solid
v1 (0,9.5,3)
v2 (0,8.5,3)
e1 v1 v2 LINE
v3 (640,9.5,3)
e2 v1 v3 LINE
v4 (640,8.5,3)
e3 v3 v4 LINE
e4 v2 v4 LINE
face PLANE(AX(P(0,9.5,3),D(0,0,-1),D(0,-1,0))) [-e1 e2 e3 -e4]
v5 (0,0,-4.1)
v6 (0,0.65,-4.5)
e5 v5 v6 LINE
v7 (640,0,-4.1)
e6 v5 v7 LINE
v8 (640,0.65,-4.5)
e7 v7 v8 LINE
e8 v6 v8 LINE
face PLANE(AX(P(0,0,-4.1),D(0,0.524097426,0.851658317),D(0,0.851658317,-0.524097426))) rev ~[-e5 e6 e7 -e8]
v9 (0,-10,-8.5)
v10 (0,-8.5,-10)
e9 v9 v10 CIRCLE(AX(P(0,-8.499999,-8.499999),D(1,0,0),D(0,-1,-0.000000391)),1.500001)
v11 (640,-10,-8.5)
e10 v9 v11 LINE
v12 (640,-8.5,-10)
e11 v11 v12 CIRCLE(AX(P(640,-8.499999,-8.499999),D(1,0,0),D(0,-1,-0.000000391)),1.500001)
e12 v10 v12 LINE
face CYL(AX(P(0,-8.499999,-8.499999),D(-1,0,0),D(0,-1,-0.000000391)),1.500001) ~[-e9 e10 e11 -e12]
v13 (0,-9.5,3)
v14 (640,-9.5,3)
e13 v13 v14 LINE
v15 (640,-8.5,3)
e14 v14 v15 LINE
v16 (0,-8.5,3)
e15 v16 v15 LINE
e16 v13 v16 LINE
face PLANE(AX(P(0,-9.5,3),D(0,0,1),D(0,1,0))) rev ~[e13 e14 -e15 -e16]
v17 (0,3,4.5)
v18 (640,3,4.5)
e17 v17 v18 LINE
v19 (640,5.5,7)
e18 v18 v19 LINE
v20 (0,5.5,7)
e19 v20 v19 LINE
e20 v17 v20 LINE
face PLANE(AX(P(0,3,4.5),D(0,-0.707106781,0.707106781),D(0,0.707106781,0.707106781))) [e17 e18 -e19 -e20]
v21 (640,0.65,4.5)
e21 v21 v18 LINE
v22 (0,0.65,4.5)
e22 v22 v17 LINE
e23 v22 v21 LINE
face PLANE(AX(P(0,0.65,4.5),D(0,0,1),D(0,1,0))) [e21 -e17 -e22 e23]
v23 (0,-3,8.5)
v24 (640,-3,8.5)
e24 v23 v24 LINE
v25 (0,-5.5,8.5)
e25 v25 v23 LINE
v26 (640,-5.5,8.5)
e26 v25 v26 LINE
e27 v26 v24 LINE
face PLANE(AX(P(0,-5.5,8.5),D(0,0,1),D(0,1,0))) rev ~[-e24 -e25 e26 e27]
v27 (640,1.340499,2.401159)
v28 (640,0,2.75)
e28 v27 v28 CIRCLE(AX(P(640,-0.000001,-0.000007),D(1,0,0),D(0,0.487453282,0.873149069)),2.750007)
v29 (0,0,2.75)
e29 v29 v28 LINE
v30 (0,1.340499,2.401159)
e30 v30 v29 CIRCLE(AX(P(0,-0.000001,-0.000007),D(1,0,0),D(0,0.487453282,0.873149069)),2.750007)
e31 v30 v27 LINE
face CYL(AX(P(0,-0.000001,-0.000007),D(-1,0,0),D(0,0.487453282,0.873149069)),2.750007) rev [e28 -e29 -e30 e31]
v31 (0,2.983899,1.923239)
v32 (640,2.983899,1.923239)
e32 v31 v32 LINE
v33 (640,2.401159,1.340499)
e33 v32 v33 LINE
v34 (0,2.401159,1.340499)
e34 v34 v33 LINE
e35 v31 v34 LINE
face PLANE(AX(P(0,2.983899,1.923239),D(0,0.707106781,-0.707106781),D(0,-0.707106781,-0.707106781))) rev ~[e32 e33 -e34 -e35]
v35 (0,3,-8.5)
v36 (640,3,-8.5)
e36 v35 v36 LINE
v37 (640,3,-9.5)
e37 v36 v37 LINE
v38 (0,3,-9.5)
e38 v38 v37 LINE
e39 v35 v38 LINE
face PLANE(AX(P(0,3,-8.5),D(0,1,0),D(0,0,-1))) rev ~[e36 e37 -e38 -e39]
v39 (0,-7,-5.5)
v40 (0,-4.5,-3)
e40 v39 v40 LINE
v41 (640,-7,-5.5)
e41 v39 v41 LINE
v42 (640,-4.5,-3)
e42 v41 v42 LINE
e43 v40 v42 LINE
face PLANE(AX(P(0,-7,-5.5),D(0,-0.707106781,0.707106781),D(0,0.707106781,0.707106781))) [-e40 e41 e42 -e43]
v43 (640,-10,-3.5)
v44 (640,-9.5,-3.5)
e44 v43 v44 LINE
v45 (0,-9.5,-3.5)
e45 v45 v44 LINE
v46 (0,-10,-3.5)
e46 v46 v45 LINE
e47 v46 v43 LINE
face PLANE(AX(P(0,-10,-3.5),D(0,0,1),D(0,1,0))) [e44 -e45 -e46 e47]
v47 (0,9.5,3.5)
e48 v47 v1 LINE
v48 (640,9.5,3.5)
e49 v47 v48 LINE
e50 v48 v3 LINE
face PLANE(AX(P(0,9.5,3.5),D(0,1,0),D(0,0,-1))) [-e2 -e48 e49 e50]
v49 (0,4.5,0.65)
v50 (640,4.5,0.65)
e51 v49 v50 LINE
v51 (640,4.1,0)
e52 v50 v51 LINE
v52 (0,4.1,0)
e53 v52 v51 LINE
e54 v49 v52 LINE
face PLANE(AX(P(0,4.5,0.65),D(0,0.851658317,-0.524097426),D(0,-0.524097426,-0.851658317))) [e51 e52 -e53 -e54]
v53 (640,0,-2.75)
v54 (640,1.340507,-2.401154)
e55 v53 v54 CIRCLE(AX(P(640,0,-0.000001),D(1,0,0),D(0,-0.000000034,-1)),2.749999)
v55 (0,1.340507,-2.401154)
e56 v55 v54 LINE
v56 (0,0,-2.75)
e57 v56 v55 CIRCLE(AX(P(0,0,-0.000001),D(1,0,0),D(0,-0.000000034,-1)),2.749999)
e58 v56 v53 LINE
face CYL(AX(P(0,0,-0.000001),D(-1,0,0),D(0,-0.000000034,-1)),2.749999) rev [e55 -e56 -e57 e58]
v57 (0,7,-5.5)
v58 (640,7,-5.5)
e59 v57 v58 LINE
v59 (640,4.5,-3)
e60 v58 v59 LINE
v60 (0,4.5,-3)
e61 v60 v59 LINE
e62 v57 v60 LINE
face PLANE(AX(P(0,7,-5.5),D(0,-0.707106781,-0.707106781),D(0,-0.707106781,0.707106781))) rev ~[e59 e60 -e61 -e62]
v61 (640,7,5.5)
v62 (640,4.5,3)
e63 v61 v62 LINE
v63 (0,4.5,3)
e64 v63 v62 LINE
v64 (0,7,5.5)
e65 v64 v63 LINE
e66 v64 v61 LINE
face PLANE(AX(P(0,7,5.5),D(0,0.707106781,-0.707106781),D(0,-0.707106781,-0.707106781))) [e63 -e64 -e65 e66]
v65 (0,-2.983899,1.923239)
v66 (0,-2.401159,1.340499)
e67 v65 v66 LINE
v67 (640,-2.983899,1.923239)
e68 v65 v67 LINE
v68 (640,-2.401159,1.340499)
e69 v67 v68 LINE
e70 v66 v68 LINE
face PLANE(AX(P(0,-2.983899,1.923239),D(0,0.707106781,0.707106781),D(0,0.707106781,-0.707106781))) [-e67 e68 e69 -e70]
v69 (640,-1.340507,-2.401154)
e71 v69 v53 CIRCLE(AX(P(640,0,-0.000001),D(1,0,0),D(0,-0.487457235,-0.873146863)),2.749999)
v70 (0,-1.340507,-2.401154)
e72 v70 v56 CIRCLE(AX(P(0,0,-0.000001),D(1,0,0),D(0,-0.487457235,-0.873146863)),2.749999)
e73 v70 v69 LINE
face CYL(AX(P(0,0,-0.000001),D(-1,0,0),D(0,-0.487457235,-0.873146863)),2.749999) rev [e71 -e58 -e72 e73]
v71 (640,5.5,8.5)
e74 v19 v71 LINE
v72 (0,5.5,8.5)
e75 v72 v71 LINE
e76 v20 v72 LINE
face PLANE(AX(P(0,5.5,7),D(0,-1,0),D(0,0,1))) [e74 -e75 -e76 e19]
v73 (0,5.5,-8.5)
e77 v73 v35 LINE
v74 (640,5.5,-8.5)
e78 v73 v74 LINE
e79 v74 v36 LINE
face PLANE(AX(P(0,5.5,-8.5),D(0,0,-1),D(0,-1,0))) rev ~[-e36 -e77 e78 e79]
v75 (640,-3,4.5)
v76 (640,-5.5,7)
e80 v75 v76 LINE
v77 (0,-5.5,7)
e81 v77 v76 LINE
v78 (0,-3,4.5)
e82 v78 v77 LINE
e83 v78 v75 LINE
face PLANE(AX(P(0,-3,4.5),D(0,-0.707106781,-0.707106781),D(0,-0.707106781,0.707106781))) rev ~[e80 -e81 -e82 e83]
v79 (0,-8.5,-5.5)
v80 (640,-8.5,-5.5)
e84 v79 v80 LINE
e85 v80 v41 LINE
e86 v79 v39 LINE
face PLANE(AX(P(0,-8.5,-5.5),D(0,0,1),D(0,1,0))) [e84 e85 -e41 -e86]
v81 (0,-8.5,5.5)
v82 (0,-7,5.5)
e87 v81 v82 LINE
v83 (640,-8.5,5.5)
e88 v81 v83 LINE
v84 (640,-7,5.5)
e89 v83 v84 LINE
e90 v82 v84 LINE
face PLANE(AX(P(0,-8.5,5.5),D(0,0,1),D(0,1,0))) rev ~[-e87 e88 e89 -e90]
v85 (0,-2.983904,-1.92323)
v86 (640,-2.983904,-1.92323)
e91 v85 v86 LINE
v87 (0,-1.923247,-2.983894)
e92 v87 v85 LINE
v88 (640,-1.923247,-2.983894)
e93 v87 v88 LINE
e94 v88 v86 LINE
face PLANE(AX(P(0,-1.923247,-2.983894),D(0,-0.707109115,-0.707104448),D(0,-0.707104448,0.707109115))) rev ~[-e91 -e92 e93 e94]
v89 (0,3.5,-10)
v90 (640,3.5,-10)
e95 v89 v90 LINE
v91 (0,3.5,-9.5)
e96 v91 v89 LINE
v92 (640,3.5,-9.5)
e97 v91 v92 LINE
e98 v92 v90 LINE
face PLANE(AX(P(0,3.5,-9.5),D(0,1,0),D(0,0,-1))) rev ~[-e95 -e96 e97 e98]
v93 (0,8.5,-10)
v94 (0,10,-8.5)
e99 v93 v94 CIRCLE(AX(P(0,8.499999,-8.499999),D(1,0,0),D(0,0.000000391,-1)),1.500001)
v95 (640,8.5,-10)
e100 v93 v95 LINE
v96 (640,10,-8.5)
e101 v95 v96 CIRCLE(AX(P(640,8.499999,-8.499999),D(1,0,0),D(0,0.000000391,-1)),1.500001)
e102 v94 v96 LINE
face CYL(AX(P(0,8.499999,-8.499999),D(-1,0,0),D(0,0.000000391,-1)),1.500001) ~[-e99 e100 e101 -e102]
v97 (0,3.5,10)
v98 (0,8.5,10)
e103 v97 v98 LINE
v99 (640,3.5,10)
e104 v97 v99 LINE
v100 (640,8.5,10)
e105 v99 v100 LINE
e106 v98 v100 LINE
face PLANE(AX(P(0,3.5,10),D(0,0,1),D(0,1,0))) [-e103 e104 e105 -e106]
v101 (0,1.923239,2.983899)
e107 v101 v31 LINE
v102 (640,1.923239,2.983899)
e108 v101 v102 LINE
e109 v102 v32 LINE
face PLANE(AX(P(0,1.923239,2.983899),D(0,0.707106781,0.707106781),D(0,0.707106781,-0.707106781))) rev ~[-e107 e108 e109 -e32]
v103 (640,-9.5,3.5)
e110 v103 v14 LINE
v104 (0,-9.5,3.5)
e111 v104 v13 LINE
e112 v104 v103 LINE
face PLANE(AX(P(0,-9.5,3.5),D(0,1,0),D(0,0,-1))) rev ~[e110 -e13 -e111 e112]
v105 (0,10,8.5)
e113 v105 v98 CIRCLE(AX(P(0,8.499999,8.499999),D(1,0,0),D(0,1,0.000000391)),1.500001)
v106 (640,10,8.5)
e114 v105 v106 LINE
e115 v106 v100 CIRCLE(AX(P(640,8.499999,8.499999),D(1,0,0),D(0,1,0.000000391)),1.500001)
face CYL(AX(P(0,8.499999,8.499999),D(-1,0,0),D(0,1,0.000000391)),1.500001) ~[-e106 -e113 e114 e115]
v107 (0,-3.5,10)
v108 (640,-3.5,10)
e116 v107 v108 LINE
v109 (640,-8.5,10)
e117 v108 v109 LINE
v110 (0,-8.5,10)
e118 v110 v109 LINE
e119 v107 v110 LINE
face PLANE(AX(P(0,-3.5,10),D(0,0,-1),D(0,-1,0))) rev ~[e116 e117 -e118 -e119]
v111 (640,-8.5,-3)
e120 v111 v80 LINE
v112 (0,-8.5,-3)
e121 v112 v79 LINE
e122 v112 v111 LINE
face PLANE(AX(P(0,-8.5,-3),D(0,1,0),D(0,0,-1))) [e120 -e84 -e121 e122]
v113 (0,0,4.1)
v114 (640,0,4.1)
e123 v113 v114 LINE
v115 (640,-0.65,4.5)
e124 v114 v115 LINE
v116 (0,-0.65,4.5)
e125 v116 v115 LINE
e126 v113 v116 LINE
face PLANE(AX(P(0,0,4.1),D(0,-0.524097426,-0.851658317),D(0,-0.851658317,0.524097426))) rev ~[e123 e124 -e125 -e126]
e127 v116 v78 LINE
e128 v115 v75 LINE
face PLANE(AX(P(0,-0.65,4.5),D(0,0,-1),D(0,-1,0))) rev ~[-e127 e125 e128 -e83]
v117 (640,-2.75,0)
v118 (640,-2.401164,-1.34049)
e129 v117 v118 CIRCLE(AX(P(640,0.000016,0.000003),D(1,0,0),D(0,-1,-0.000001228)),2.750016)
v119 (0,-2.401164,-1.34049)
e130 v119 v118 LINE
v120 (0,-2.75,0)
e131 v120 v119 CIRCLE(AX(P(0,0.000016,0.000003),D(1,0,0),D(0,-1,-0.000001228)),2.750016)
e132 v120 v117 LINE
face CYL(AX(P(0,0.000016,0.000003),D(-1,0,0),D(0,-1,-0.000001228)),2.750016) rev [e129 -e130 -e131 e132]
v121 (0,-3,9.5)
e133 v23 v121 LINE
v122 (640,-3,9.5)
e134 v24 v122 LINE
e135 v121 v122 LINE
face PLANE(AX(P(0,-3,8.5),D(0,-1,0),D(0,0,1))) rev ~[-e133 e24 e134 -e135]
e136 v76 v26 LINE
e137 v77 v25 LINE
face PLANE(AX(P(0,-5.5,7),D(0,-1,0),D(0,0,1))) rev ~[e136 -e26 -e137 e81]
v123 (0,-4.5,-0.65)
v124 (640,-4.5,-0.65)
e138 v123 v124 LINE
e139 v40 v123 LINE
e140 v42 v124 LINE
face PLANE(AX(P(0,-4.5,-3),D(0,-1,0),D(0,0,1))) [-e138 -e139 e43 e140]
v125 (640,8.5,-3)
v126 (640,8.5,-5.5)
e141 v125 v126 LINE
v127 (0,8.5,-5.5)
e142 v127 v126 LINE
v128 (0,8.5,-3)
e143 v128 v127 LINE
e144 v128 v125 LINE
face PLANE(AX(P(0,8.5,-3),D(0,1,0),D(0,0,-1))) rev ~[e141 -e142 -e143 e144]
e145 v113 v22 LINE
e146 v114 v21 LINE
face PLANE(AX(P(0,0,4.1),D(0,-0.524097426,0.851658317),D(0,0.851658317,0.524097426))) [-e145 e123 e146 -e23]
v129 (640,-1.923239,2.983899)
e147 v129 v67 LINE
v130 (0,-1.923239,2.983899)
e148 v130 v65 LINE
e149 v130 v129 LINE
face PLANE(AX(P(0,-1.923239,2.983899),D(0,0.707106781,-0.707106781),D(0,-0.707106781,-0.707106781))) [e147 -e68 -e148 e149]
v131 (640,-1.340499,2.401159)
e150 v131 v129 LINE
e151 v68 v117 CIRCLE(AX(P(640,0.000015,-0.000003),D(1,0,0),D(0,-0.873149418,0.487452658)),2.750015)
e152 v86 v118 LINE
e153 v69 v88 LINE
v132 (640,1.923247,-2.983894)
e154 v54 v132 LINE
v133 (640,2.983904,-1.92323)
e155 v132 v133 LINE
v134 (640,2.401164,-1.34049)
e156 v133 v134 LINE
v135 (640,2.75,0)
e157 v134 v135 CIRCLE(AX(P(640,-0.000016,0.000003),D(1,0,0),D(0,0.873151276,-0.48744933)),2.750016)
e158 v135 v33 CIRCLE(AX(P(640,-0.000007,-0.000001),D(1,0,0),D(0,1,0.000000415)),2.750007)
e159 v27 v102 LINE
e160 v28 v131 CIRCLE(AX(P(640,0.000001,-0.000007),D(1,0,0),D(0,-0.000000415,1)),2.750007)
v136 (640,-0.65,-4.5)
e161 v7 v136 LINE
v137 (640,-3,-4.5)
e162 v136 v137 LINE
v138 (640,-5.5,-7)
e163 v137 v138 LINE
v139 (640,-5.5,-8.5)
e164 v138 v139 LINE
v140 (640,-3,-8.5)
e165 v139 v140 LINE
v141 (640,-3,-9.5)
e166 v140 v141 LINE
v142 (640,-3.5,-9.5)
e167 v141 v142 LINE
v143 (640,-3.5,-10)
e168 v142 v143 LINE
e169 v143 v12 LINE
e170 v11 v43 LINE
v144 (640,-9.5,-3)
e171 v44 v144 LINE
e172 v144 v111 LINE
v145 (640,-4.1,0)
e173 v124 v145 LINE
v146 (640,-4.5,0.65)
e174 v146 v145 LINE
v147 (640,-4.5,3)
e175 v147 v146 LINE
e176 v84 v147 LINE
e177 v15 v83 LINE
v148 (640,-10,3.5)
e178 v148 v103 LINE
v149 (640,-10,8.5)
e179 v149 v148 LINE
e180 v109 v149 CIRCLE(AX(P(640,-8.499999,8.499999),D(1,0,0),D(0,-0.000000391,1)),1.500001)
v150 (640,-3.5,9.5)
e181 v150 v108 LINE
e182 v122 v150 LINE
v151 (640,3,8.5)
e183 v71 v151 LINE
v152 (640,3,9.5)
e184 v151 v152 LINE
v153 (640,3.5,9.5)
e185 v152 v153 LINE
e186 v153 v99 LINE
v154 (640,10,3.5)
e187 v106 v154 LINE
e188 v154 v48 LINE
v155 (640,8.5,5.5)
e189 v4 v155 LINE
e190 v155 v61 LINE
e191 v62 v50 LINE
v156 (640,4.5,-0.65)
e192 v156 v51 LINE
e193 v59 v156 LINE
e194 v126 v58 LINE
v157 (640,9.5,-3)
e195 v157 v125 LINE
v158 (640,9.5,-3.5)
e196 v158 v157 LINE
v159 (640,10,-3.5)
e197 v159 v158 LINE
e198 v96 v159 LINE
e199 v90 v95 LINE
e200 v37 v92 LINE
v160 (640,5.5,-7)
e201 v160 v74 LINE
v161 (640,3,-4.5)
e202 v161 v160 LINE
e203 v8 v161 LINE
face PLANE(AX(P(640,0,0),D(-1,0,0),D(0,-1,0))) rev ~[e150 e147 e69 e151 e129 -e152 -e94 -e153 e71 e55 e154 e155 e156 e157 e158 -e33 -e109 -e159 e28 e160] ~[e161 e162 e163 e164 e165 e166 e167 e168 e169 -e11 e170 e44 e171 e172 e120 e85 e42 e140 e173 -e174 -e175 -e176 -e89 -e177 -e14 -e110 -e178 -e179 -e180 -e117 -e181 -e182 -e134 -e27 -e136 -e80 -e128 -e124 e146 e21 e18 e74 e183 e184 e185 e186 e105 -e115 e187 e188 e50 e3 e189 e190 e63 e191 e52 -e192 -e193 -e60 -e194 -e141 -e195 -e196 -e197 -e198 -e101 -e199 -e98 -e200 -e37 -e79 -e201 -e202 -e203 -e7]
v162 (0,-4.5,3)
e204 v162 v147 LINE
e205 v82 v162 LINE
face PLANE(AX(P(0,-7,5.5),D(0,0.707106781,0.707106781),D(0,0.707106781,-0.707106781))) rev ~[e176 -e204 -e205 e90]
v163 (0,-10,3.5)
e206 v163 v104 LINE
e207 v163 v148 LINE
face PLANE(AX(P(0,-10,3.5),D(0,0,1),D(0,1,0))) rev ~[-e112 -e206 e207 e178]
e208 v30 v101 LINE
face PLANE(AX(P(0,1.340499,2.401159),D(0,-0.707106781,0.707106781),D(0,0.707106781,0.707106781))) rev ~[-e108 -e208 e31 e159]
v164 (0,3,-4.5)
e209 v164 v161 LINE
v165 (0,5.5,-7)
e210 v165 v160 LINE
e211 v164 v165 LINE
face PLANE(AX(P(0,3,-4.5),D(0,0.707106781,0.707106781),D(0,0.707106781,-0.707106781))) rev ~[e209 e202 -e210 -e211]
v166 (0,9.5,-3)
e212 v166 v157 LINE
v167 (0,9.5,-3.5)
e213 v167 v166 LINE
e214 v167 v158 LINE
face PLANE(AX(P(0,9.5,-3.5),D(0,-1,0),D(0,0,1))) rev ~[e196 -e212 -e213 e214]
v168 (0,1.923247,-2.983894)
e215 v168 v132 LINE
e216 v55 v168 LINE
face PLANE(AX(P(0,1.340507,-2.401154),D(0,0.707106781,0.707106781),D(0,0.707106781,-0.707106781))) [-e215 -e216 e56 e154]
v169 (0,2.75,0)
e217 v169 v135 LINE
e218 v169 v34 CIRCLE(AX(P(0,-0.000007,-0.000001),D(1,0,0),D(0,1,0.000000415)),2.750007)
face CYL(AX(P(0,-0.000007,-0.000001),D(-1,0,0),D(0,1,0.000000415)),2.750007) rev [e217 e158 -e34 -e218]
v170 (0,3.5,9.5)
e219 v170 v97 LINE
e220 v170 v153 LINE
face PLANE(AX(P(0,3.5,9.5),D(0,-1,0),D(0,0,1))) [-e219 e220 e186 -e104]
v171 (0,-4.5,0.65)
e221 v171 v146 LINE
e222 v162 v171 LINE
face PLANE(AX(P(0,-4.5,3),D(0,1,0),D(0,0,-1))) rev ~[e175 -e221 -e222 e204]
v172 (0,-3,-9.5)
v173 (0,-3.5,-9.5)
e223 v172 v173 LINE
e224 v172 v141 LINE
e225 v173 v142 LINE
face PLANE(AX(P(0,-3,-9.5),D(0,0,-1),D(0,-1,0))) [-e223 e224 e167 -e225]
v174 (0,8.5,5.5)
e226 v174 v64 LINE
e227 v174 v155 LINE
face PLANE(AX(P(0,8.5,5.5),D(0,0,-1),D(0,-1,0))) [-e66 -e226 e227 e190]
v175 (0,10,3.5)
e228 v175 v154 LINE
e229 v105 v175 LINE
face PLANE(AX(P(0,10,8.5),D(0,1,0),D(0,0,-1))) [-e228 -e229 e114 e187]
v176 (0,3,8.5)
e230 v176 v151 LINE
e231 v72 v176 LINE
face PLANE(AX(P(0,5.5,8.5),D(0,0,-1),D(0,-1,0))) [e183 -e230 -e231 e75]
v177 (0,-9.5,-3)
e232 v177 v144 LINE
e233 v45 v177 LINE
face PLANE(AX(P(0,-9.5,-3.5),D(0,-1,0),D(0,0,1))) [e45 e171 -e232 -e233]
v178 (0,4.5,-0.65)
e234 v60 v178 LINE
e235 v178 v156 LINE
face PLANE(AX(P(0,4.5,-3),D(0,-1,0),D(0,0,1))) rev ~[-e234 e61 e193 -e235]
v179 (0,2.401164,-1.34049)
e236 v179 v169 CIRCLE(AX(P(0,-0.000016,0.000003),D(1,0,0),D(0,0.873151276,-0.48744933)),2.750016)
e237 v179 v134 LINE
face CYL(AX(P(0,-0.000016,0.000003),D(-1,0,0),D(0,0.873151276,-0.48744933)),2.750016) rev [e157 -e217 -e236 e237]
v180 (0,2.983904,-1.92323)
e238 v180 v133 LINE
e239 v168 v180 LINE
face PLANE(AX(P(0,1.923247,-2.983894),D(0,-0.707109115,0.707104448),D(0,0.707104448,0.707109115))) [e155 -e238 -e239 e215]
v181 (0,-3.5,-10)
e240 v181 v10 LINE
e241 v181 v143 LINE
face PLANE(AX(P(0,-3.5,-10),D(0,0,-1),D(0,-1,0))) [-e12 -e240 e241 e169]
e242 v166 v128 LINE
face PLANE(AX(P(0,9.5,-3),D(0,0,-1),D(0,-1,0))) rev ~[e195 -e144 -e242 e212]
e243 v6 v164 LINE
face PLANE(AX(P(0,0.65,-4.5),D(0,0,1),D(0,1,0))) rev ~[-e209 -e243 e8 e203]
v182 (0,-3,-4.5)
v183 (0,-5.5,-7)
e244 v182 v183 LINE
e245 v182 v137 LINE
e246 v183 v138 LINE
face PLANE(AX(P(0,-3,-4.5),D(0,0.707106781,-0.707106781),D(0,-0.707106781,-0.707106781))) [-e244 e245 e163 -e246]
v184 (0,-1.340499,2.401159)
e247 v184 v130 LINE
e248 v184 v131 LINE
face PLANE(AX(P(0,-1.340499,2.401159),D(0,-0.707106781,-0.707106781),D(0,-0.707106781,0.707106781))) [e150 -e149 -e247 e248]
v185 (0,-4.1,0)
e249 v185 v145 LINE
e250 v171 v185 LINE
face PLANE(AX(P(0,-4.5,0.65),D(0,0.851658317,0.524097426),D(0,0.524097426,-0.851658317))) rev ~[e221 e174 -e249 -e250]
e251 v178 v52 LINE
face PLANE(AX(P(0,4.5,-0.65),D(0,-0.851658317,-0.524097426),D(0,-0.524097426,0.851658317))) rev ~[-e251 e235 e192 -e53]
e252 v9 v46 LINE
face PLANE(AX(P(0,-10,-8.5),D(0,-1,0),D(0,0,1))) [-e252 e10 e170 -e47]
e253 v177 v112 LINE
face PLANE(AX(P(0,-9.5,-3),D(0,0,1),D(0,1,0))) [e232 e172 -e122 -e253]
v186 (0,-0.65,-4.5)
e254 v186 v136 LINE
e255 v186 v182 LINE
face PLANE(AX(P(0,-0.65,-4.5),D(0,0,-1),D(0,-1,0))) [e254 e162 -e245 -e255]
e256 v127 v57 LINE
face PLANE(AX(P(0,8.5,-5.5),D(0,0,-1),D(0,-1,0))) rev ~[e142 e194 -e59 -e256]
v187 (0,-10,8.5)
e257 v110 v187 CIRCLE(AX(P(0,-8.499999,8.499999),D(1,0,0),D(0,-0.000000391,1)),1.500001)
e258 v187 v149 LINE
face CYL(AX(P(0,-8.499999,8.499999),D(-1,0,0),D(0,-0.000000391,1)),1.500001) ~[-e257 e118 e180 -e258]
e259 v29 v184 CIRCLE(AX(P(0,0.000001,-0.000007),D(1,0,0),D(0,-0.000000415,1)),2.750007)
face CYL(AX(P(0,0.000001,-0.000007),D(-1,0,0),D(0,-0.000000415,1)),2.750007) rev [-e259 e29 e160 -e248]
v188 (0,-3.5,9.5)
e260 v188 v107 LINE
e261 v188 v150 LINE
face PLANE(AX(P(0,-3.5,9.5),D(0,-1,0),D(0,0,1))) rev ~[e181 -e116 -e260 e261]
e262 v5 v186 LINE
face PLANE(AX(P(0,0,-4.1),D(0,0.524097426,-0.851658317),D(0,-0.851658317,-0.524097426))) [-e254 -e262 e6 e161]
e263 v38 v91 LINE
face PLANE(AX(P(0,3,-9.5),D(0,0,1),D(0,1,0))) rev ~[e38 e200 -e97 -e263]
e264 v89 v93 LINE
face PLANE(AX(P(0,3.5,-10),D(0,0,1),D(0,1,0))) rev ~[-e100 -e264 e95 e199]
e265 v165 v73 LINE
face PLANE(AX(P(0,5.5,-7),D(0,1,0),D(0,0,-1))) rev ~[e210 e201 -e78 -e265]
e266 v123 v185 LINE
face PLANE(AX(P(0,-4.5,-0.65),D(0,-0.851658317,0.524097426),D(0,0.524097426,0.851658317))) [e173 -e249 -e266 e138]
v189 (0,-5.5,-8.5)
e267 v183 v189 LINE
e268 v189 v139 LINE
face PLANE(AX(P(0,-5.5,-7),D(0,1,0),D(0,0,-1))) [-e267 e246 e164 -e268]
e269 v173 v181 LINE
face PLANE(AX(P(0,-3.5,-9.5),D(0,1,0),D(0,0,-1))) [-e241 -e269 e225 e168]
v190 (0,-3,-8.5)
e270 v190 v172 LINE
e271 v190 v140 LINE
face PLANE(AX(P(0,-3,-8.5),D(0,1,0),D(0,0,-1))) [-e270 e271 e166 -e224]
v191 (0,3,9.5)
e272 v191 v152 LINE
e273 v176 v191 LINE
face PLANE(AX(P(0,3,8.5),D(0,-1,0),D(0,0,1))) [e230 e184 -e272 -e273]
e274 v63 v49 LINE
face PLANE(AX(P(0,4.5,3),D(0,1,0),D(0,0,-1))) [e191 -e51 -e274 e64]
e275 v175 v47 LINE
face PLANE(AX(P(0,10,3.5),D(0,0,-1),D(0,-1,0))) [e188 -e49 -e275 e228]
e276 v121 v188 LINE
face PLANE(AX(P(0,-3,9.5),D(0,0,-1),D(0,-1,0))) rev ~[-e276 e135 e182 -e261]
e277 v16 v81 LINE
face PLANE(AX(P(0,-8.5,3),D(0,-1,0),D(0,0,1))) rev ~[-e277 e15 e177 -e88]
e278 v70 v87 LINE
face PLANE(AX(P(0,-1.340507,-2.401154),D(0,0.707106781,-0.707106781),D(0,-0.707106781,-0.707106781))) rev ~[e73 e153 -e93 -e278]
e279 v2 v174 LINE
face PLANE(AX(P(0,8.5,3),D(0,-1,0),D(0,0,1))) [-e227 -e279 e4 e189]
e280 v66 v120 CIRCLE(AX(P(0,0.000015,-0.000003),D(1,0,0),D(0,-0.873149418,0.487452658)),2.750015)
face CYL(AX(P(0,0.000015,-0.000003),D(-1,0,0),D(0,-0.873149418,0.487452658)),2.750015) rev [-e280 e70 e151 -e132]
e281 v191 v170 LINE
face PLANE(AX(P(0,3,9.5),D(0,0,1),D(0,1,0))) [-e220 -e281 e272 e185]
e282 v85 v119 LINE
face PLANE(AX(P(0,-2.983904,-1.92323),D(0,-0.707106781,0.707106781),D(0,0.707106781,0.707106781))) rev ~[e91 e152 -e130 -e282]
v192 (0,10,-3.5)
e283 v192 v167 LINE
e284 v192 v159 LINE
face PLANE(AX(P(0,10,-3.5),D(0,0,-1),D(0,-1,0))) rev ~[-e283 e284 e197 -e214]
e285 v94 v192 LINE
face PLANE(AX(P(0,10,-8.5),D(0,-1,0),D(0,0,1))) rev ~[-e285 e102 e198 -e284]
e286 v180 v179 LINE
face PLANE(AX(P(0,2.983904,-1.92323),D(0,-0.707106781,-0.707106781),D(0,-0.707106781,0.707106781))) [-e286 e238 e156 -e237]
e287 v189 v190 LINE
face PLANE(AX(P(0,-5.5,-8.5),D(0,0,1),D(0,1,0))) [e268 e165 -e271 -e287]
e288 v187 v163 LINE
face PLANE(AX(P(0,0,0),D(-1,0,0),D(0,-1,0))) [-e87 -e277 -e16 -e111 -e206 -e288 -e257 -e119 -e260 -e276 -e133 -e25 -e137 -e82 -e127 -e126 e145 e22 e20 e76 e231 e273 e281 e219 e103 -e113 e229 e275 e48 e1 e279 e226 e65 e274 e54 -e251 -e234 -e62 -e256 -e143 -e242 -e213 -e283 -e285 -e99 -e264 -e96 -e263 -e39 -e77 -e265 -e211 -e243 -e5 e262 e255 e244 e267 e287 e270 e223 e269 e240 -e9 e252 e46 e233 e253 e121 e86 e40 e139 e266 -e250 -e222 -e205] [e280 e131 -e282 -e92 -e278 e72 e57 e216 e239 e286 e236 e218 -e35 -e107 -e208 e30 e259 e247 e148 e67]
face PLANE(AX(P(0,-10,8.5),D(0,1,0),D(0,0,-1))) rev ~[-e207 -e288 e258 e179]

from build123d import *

# Parameters (mm, degrees)
PAD_DEPTH = 640


with BuildPart() as part:
    # Sketch → Pad (new body)
    with BuildSketch(Plane.YZ):
        with BuildLine():
            Line((0, 4.1), (0.65, 4.5))
            Line((0.65, 4.5), (3, 4.5))
            Line((3, 4.5), (5.5, 7))
            Line((5.5, 7), (5.5, 8.5))
            Line((5.5, 8.5), (3, 8.5))
            Line((3, 8.5), (3, 9.5))
            Line((3, 9.5), (3.5, 9.5))
            Line((3.5, 9.5), (3.5, 10))
            Line((3.5, 10), (8.5, 10))
            ThreePointArc((10, 8.5), (9.56066, 9.56066), (8.5, 10))
            Line((10, 8.5), (10, 3.5))
            Line((10, 3.5), (9.5, 3.5))
            Line((9.5, 3.5), (9.5, 3))
            Line((9.5, 3), (8.5, 3))
            Line((8.5, 3), (8.5, 5.5))
            Line((8.5, 5.5), (7, 5.5))
            Line((7, 5.5), (4.5, 3))
            Line((4.5, 3), (4.5, 0.65))
            Line((4.5, 0.65), (4.1, 0))
            Line((4.5, -0.65), (4.1, 0))
            Line((4.5, -3), (4.5, -0.65))
            Line((7, -5.5), (4.5, -3))
            Line((8.5, -5.5), (7, -5.5))
            Line((8.5, -3), (8.5, -5.5))
            Line((9.5, -3), (8.5, -3))
            Line((9.5, -3.5), (9.5, -3))
            Line((10, -3.5), (9.5, -3.5))
            Line((10, -8.5), (10, -3.5))
            ThreePointArc((8.5, -10), (9.56066, -9.56066), (10, -8.5))
            Line((3.5, -10), (8.5, -10))
            Line((3.5, -9.5), (3.5, -10))
            Line((3, -9.5), (3.5, -9.5))
            Line((3, -8.5), (3, -9.5))
            Line((5.5, -8.5), (3, -8.5))
            Line((5.5, -7), (5.5, -8.5))
            Line((3, -4.5), (5.5, -7))
            Line((0.65, -4.5), (3, -4.5))
            Line((0, -4.1), (0.65, -4.5))
            Line((0, -4.1), (-0.65, -4.5))
            Line((-0.65, -4.5), (-3, -4.5))
            Line((-3, -4.5), (-5.5, -7))
            Line((-5.5, -7), (-5.5, -8.5))
            Line((-5.5, -8.5), (-3, -8.5))
            Line((-3, -8.5), (-3, -9.5))
            Line((-3, -9.5), (-3.5, -9.5))
            Line((-3.5, -9.5), (-3.5, -10))
            Line((-3.5, -10), (-8.5, -10))
            ThreePointArc((-10, -8.5), (-9.56066, -9.56066), (-8.5, -10))
            Line((-10, -8.5), (-10, -3.5))
            Line((-10, -3.5), (-9.5, -3.5))
            Line((-9.5, -3.5), (-9.5, -3))
            Line((-9.5, -3), (-8.5, -3))
            Line((-8.5, -3), (-8.5, -5.5))
            Line((-8.5, -5.5), (-7, -5.5))
            Line((-7, -5.5), (-4.5, -3))
            Line((-4.5, -3), (-4.5, -0.65))
            Line((-4.5, -0.65), (-4.1, 0))
            Line((-4.5, 0.65), (-4.1, 0))
            Line((-4.5, 3), (-4.5, 0.65))
            Line((-7, 5.5), (-4.5, 3))
            Line((-8.5, 5.5), (-7, 5.5))
            Line((-8.5, 3), (-8.5, 5.5))
            Line((-9.5, 3), (-8.5, 3))
            Line((-9.5, 3.5), (-9.5, 3))
            Line((-10, 3.5), (-9.5, 3.5))
            Line((-10, 8.5), (-10, 3.5))
            ThreePointArc((-8.5, 10), (-9.56066, 9.56066), (-10, 8.5))
            Line((-3.5, 10), (-8.5, 10))
            Line((-3.5, 9.5), (-3.5, 10))
            Line((-3, 9.5), (-3.5, 9.5))
            Line((-3, 8.5), (-3, 9.5))
            Line((-5.5, 8.5), (-3, 8.5))
            Line((-5.5, 7), (-5.5, 8.5))
            Line((-3, 4.5), (-5.5, 7))
            Line((-0.65, 4.5), (-3, 4.5))
            Line((0, 4.1), (-0.65, 4.5))
        make_face()
        with BuildLine():
            Line((1.340499, 2.401159), (1.923239, 2.983899))
            Line((1.923239, 2.983899), (2.983899, 1.923239))
            Line((2.983899, 1.923239), (2.401159, 1.340499))
            ThreePointArc((2.75, 0), (2.661361, 0.692573), (2.401159, 1.340499))
            ThreePointArc((2.401164, -1.34049), (2.661362, -0.692568), (2.75, 0))
            Line((2.983904, -1.92323), (2.401164, -1.34049))
            Line((1.923247, -2.983894), (2.983904, -1.92323))
            Line((1.340507, -2.401154), (1.923247, -2.983894))
            ThreePointArc((0, -2.75), (0.692577, -2.66136), (1.340507, -2.401154))
            ThreePointArc((-1.340507, -2.401154), (-0.692577, -2.66136), (0, -2.75))
            Line((-1.340507, -2.401154), (-1.923247, -2.983894))
            Line((-1.923247, -2.983894), (-2.983904, -1.92323))
            Line((-2.983904, -1.92323), (-2.401164, -1.34049))
            ThreePointArc((-2.75, 0), (-2.661362, -0.692568), (-2.401164, -1.34049))
            ThreePointArc((-2.401159, 1.340499), (-2.661361, 0.692572), (-2.75, 0))
            Line((-2.983899, 1.923239), (-2.401159, 1.340499))
            Line((-1.923239, 2.983899), (-2.983899, 1.923239))
            Line((-1.340499, 2.401159), (-1.923239, 2.983899))
            ThreePointArc((0, 2.75), (-0.692573, 2.661361), (-1.340499, 2.401159))
            ThreePointArc((1.340499, 2.401159), (0.692573, 2.661361), (0, 2.75))
        make_face(mode=Mode.SUBTRACT)
    extrude(amount=PAD_DEPTH)


solid = part.part
